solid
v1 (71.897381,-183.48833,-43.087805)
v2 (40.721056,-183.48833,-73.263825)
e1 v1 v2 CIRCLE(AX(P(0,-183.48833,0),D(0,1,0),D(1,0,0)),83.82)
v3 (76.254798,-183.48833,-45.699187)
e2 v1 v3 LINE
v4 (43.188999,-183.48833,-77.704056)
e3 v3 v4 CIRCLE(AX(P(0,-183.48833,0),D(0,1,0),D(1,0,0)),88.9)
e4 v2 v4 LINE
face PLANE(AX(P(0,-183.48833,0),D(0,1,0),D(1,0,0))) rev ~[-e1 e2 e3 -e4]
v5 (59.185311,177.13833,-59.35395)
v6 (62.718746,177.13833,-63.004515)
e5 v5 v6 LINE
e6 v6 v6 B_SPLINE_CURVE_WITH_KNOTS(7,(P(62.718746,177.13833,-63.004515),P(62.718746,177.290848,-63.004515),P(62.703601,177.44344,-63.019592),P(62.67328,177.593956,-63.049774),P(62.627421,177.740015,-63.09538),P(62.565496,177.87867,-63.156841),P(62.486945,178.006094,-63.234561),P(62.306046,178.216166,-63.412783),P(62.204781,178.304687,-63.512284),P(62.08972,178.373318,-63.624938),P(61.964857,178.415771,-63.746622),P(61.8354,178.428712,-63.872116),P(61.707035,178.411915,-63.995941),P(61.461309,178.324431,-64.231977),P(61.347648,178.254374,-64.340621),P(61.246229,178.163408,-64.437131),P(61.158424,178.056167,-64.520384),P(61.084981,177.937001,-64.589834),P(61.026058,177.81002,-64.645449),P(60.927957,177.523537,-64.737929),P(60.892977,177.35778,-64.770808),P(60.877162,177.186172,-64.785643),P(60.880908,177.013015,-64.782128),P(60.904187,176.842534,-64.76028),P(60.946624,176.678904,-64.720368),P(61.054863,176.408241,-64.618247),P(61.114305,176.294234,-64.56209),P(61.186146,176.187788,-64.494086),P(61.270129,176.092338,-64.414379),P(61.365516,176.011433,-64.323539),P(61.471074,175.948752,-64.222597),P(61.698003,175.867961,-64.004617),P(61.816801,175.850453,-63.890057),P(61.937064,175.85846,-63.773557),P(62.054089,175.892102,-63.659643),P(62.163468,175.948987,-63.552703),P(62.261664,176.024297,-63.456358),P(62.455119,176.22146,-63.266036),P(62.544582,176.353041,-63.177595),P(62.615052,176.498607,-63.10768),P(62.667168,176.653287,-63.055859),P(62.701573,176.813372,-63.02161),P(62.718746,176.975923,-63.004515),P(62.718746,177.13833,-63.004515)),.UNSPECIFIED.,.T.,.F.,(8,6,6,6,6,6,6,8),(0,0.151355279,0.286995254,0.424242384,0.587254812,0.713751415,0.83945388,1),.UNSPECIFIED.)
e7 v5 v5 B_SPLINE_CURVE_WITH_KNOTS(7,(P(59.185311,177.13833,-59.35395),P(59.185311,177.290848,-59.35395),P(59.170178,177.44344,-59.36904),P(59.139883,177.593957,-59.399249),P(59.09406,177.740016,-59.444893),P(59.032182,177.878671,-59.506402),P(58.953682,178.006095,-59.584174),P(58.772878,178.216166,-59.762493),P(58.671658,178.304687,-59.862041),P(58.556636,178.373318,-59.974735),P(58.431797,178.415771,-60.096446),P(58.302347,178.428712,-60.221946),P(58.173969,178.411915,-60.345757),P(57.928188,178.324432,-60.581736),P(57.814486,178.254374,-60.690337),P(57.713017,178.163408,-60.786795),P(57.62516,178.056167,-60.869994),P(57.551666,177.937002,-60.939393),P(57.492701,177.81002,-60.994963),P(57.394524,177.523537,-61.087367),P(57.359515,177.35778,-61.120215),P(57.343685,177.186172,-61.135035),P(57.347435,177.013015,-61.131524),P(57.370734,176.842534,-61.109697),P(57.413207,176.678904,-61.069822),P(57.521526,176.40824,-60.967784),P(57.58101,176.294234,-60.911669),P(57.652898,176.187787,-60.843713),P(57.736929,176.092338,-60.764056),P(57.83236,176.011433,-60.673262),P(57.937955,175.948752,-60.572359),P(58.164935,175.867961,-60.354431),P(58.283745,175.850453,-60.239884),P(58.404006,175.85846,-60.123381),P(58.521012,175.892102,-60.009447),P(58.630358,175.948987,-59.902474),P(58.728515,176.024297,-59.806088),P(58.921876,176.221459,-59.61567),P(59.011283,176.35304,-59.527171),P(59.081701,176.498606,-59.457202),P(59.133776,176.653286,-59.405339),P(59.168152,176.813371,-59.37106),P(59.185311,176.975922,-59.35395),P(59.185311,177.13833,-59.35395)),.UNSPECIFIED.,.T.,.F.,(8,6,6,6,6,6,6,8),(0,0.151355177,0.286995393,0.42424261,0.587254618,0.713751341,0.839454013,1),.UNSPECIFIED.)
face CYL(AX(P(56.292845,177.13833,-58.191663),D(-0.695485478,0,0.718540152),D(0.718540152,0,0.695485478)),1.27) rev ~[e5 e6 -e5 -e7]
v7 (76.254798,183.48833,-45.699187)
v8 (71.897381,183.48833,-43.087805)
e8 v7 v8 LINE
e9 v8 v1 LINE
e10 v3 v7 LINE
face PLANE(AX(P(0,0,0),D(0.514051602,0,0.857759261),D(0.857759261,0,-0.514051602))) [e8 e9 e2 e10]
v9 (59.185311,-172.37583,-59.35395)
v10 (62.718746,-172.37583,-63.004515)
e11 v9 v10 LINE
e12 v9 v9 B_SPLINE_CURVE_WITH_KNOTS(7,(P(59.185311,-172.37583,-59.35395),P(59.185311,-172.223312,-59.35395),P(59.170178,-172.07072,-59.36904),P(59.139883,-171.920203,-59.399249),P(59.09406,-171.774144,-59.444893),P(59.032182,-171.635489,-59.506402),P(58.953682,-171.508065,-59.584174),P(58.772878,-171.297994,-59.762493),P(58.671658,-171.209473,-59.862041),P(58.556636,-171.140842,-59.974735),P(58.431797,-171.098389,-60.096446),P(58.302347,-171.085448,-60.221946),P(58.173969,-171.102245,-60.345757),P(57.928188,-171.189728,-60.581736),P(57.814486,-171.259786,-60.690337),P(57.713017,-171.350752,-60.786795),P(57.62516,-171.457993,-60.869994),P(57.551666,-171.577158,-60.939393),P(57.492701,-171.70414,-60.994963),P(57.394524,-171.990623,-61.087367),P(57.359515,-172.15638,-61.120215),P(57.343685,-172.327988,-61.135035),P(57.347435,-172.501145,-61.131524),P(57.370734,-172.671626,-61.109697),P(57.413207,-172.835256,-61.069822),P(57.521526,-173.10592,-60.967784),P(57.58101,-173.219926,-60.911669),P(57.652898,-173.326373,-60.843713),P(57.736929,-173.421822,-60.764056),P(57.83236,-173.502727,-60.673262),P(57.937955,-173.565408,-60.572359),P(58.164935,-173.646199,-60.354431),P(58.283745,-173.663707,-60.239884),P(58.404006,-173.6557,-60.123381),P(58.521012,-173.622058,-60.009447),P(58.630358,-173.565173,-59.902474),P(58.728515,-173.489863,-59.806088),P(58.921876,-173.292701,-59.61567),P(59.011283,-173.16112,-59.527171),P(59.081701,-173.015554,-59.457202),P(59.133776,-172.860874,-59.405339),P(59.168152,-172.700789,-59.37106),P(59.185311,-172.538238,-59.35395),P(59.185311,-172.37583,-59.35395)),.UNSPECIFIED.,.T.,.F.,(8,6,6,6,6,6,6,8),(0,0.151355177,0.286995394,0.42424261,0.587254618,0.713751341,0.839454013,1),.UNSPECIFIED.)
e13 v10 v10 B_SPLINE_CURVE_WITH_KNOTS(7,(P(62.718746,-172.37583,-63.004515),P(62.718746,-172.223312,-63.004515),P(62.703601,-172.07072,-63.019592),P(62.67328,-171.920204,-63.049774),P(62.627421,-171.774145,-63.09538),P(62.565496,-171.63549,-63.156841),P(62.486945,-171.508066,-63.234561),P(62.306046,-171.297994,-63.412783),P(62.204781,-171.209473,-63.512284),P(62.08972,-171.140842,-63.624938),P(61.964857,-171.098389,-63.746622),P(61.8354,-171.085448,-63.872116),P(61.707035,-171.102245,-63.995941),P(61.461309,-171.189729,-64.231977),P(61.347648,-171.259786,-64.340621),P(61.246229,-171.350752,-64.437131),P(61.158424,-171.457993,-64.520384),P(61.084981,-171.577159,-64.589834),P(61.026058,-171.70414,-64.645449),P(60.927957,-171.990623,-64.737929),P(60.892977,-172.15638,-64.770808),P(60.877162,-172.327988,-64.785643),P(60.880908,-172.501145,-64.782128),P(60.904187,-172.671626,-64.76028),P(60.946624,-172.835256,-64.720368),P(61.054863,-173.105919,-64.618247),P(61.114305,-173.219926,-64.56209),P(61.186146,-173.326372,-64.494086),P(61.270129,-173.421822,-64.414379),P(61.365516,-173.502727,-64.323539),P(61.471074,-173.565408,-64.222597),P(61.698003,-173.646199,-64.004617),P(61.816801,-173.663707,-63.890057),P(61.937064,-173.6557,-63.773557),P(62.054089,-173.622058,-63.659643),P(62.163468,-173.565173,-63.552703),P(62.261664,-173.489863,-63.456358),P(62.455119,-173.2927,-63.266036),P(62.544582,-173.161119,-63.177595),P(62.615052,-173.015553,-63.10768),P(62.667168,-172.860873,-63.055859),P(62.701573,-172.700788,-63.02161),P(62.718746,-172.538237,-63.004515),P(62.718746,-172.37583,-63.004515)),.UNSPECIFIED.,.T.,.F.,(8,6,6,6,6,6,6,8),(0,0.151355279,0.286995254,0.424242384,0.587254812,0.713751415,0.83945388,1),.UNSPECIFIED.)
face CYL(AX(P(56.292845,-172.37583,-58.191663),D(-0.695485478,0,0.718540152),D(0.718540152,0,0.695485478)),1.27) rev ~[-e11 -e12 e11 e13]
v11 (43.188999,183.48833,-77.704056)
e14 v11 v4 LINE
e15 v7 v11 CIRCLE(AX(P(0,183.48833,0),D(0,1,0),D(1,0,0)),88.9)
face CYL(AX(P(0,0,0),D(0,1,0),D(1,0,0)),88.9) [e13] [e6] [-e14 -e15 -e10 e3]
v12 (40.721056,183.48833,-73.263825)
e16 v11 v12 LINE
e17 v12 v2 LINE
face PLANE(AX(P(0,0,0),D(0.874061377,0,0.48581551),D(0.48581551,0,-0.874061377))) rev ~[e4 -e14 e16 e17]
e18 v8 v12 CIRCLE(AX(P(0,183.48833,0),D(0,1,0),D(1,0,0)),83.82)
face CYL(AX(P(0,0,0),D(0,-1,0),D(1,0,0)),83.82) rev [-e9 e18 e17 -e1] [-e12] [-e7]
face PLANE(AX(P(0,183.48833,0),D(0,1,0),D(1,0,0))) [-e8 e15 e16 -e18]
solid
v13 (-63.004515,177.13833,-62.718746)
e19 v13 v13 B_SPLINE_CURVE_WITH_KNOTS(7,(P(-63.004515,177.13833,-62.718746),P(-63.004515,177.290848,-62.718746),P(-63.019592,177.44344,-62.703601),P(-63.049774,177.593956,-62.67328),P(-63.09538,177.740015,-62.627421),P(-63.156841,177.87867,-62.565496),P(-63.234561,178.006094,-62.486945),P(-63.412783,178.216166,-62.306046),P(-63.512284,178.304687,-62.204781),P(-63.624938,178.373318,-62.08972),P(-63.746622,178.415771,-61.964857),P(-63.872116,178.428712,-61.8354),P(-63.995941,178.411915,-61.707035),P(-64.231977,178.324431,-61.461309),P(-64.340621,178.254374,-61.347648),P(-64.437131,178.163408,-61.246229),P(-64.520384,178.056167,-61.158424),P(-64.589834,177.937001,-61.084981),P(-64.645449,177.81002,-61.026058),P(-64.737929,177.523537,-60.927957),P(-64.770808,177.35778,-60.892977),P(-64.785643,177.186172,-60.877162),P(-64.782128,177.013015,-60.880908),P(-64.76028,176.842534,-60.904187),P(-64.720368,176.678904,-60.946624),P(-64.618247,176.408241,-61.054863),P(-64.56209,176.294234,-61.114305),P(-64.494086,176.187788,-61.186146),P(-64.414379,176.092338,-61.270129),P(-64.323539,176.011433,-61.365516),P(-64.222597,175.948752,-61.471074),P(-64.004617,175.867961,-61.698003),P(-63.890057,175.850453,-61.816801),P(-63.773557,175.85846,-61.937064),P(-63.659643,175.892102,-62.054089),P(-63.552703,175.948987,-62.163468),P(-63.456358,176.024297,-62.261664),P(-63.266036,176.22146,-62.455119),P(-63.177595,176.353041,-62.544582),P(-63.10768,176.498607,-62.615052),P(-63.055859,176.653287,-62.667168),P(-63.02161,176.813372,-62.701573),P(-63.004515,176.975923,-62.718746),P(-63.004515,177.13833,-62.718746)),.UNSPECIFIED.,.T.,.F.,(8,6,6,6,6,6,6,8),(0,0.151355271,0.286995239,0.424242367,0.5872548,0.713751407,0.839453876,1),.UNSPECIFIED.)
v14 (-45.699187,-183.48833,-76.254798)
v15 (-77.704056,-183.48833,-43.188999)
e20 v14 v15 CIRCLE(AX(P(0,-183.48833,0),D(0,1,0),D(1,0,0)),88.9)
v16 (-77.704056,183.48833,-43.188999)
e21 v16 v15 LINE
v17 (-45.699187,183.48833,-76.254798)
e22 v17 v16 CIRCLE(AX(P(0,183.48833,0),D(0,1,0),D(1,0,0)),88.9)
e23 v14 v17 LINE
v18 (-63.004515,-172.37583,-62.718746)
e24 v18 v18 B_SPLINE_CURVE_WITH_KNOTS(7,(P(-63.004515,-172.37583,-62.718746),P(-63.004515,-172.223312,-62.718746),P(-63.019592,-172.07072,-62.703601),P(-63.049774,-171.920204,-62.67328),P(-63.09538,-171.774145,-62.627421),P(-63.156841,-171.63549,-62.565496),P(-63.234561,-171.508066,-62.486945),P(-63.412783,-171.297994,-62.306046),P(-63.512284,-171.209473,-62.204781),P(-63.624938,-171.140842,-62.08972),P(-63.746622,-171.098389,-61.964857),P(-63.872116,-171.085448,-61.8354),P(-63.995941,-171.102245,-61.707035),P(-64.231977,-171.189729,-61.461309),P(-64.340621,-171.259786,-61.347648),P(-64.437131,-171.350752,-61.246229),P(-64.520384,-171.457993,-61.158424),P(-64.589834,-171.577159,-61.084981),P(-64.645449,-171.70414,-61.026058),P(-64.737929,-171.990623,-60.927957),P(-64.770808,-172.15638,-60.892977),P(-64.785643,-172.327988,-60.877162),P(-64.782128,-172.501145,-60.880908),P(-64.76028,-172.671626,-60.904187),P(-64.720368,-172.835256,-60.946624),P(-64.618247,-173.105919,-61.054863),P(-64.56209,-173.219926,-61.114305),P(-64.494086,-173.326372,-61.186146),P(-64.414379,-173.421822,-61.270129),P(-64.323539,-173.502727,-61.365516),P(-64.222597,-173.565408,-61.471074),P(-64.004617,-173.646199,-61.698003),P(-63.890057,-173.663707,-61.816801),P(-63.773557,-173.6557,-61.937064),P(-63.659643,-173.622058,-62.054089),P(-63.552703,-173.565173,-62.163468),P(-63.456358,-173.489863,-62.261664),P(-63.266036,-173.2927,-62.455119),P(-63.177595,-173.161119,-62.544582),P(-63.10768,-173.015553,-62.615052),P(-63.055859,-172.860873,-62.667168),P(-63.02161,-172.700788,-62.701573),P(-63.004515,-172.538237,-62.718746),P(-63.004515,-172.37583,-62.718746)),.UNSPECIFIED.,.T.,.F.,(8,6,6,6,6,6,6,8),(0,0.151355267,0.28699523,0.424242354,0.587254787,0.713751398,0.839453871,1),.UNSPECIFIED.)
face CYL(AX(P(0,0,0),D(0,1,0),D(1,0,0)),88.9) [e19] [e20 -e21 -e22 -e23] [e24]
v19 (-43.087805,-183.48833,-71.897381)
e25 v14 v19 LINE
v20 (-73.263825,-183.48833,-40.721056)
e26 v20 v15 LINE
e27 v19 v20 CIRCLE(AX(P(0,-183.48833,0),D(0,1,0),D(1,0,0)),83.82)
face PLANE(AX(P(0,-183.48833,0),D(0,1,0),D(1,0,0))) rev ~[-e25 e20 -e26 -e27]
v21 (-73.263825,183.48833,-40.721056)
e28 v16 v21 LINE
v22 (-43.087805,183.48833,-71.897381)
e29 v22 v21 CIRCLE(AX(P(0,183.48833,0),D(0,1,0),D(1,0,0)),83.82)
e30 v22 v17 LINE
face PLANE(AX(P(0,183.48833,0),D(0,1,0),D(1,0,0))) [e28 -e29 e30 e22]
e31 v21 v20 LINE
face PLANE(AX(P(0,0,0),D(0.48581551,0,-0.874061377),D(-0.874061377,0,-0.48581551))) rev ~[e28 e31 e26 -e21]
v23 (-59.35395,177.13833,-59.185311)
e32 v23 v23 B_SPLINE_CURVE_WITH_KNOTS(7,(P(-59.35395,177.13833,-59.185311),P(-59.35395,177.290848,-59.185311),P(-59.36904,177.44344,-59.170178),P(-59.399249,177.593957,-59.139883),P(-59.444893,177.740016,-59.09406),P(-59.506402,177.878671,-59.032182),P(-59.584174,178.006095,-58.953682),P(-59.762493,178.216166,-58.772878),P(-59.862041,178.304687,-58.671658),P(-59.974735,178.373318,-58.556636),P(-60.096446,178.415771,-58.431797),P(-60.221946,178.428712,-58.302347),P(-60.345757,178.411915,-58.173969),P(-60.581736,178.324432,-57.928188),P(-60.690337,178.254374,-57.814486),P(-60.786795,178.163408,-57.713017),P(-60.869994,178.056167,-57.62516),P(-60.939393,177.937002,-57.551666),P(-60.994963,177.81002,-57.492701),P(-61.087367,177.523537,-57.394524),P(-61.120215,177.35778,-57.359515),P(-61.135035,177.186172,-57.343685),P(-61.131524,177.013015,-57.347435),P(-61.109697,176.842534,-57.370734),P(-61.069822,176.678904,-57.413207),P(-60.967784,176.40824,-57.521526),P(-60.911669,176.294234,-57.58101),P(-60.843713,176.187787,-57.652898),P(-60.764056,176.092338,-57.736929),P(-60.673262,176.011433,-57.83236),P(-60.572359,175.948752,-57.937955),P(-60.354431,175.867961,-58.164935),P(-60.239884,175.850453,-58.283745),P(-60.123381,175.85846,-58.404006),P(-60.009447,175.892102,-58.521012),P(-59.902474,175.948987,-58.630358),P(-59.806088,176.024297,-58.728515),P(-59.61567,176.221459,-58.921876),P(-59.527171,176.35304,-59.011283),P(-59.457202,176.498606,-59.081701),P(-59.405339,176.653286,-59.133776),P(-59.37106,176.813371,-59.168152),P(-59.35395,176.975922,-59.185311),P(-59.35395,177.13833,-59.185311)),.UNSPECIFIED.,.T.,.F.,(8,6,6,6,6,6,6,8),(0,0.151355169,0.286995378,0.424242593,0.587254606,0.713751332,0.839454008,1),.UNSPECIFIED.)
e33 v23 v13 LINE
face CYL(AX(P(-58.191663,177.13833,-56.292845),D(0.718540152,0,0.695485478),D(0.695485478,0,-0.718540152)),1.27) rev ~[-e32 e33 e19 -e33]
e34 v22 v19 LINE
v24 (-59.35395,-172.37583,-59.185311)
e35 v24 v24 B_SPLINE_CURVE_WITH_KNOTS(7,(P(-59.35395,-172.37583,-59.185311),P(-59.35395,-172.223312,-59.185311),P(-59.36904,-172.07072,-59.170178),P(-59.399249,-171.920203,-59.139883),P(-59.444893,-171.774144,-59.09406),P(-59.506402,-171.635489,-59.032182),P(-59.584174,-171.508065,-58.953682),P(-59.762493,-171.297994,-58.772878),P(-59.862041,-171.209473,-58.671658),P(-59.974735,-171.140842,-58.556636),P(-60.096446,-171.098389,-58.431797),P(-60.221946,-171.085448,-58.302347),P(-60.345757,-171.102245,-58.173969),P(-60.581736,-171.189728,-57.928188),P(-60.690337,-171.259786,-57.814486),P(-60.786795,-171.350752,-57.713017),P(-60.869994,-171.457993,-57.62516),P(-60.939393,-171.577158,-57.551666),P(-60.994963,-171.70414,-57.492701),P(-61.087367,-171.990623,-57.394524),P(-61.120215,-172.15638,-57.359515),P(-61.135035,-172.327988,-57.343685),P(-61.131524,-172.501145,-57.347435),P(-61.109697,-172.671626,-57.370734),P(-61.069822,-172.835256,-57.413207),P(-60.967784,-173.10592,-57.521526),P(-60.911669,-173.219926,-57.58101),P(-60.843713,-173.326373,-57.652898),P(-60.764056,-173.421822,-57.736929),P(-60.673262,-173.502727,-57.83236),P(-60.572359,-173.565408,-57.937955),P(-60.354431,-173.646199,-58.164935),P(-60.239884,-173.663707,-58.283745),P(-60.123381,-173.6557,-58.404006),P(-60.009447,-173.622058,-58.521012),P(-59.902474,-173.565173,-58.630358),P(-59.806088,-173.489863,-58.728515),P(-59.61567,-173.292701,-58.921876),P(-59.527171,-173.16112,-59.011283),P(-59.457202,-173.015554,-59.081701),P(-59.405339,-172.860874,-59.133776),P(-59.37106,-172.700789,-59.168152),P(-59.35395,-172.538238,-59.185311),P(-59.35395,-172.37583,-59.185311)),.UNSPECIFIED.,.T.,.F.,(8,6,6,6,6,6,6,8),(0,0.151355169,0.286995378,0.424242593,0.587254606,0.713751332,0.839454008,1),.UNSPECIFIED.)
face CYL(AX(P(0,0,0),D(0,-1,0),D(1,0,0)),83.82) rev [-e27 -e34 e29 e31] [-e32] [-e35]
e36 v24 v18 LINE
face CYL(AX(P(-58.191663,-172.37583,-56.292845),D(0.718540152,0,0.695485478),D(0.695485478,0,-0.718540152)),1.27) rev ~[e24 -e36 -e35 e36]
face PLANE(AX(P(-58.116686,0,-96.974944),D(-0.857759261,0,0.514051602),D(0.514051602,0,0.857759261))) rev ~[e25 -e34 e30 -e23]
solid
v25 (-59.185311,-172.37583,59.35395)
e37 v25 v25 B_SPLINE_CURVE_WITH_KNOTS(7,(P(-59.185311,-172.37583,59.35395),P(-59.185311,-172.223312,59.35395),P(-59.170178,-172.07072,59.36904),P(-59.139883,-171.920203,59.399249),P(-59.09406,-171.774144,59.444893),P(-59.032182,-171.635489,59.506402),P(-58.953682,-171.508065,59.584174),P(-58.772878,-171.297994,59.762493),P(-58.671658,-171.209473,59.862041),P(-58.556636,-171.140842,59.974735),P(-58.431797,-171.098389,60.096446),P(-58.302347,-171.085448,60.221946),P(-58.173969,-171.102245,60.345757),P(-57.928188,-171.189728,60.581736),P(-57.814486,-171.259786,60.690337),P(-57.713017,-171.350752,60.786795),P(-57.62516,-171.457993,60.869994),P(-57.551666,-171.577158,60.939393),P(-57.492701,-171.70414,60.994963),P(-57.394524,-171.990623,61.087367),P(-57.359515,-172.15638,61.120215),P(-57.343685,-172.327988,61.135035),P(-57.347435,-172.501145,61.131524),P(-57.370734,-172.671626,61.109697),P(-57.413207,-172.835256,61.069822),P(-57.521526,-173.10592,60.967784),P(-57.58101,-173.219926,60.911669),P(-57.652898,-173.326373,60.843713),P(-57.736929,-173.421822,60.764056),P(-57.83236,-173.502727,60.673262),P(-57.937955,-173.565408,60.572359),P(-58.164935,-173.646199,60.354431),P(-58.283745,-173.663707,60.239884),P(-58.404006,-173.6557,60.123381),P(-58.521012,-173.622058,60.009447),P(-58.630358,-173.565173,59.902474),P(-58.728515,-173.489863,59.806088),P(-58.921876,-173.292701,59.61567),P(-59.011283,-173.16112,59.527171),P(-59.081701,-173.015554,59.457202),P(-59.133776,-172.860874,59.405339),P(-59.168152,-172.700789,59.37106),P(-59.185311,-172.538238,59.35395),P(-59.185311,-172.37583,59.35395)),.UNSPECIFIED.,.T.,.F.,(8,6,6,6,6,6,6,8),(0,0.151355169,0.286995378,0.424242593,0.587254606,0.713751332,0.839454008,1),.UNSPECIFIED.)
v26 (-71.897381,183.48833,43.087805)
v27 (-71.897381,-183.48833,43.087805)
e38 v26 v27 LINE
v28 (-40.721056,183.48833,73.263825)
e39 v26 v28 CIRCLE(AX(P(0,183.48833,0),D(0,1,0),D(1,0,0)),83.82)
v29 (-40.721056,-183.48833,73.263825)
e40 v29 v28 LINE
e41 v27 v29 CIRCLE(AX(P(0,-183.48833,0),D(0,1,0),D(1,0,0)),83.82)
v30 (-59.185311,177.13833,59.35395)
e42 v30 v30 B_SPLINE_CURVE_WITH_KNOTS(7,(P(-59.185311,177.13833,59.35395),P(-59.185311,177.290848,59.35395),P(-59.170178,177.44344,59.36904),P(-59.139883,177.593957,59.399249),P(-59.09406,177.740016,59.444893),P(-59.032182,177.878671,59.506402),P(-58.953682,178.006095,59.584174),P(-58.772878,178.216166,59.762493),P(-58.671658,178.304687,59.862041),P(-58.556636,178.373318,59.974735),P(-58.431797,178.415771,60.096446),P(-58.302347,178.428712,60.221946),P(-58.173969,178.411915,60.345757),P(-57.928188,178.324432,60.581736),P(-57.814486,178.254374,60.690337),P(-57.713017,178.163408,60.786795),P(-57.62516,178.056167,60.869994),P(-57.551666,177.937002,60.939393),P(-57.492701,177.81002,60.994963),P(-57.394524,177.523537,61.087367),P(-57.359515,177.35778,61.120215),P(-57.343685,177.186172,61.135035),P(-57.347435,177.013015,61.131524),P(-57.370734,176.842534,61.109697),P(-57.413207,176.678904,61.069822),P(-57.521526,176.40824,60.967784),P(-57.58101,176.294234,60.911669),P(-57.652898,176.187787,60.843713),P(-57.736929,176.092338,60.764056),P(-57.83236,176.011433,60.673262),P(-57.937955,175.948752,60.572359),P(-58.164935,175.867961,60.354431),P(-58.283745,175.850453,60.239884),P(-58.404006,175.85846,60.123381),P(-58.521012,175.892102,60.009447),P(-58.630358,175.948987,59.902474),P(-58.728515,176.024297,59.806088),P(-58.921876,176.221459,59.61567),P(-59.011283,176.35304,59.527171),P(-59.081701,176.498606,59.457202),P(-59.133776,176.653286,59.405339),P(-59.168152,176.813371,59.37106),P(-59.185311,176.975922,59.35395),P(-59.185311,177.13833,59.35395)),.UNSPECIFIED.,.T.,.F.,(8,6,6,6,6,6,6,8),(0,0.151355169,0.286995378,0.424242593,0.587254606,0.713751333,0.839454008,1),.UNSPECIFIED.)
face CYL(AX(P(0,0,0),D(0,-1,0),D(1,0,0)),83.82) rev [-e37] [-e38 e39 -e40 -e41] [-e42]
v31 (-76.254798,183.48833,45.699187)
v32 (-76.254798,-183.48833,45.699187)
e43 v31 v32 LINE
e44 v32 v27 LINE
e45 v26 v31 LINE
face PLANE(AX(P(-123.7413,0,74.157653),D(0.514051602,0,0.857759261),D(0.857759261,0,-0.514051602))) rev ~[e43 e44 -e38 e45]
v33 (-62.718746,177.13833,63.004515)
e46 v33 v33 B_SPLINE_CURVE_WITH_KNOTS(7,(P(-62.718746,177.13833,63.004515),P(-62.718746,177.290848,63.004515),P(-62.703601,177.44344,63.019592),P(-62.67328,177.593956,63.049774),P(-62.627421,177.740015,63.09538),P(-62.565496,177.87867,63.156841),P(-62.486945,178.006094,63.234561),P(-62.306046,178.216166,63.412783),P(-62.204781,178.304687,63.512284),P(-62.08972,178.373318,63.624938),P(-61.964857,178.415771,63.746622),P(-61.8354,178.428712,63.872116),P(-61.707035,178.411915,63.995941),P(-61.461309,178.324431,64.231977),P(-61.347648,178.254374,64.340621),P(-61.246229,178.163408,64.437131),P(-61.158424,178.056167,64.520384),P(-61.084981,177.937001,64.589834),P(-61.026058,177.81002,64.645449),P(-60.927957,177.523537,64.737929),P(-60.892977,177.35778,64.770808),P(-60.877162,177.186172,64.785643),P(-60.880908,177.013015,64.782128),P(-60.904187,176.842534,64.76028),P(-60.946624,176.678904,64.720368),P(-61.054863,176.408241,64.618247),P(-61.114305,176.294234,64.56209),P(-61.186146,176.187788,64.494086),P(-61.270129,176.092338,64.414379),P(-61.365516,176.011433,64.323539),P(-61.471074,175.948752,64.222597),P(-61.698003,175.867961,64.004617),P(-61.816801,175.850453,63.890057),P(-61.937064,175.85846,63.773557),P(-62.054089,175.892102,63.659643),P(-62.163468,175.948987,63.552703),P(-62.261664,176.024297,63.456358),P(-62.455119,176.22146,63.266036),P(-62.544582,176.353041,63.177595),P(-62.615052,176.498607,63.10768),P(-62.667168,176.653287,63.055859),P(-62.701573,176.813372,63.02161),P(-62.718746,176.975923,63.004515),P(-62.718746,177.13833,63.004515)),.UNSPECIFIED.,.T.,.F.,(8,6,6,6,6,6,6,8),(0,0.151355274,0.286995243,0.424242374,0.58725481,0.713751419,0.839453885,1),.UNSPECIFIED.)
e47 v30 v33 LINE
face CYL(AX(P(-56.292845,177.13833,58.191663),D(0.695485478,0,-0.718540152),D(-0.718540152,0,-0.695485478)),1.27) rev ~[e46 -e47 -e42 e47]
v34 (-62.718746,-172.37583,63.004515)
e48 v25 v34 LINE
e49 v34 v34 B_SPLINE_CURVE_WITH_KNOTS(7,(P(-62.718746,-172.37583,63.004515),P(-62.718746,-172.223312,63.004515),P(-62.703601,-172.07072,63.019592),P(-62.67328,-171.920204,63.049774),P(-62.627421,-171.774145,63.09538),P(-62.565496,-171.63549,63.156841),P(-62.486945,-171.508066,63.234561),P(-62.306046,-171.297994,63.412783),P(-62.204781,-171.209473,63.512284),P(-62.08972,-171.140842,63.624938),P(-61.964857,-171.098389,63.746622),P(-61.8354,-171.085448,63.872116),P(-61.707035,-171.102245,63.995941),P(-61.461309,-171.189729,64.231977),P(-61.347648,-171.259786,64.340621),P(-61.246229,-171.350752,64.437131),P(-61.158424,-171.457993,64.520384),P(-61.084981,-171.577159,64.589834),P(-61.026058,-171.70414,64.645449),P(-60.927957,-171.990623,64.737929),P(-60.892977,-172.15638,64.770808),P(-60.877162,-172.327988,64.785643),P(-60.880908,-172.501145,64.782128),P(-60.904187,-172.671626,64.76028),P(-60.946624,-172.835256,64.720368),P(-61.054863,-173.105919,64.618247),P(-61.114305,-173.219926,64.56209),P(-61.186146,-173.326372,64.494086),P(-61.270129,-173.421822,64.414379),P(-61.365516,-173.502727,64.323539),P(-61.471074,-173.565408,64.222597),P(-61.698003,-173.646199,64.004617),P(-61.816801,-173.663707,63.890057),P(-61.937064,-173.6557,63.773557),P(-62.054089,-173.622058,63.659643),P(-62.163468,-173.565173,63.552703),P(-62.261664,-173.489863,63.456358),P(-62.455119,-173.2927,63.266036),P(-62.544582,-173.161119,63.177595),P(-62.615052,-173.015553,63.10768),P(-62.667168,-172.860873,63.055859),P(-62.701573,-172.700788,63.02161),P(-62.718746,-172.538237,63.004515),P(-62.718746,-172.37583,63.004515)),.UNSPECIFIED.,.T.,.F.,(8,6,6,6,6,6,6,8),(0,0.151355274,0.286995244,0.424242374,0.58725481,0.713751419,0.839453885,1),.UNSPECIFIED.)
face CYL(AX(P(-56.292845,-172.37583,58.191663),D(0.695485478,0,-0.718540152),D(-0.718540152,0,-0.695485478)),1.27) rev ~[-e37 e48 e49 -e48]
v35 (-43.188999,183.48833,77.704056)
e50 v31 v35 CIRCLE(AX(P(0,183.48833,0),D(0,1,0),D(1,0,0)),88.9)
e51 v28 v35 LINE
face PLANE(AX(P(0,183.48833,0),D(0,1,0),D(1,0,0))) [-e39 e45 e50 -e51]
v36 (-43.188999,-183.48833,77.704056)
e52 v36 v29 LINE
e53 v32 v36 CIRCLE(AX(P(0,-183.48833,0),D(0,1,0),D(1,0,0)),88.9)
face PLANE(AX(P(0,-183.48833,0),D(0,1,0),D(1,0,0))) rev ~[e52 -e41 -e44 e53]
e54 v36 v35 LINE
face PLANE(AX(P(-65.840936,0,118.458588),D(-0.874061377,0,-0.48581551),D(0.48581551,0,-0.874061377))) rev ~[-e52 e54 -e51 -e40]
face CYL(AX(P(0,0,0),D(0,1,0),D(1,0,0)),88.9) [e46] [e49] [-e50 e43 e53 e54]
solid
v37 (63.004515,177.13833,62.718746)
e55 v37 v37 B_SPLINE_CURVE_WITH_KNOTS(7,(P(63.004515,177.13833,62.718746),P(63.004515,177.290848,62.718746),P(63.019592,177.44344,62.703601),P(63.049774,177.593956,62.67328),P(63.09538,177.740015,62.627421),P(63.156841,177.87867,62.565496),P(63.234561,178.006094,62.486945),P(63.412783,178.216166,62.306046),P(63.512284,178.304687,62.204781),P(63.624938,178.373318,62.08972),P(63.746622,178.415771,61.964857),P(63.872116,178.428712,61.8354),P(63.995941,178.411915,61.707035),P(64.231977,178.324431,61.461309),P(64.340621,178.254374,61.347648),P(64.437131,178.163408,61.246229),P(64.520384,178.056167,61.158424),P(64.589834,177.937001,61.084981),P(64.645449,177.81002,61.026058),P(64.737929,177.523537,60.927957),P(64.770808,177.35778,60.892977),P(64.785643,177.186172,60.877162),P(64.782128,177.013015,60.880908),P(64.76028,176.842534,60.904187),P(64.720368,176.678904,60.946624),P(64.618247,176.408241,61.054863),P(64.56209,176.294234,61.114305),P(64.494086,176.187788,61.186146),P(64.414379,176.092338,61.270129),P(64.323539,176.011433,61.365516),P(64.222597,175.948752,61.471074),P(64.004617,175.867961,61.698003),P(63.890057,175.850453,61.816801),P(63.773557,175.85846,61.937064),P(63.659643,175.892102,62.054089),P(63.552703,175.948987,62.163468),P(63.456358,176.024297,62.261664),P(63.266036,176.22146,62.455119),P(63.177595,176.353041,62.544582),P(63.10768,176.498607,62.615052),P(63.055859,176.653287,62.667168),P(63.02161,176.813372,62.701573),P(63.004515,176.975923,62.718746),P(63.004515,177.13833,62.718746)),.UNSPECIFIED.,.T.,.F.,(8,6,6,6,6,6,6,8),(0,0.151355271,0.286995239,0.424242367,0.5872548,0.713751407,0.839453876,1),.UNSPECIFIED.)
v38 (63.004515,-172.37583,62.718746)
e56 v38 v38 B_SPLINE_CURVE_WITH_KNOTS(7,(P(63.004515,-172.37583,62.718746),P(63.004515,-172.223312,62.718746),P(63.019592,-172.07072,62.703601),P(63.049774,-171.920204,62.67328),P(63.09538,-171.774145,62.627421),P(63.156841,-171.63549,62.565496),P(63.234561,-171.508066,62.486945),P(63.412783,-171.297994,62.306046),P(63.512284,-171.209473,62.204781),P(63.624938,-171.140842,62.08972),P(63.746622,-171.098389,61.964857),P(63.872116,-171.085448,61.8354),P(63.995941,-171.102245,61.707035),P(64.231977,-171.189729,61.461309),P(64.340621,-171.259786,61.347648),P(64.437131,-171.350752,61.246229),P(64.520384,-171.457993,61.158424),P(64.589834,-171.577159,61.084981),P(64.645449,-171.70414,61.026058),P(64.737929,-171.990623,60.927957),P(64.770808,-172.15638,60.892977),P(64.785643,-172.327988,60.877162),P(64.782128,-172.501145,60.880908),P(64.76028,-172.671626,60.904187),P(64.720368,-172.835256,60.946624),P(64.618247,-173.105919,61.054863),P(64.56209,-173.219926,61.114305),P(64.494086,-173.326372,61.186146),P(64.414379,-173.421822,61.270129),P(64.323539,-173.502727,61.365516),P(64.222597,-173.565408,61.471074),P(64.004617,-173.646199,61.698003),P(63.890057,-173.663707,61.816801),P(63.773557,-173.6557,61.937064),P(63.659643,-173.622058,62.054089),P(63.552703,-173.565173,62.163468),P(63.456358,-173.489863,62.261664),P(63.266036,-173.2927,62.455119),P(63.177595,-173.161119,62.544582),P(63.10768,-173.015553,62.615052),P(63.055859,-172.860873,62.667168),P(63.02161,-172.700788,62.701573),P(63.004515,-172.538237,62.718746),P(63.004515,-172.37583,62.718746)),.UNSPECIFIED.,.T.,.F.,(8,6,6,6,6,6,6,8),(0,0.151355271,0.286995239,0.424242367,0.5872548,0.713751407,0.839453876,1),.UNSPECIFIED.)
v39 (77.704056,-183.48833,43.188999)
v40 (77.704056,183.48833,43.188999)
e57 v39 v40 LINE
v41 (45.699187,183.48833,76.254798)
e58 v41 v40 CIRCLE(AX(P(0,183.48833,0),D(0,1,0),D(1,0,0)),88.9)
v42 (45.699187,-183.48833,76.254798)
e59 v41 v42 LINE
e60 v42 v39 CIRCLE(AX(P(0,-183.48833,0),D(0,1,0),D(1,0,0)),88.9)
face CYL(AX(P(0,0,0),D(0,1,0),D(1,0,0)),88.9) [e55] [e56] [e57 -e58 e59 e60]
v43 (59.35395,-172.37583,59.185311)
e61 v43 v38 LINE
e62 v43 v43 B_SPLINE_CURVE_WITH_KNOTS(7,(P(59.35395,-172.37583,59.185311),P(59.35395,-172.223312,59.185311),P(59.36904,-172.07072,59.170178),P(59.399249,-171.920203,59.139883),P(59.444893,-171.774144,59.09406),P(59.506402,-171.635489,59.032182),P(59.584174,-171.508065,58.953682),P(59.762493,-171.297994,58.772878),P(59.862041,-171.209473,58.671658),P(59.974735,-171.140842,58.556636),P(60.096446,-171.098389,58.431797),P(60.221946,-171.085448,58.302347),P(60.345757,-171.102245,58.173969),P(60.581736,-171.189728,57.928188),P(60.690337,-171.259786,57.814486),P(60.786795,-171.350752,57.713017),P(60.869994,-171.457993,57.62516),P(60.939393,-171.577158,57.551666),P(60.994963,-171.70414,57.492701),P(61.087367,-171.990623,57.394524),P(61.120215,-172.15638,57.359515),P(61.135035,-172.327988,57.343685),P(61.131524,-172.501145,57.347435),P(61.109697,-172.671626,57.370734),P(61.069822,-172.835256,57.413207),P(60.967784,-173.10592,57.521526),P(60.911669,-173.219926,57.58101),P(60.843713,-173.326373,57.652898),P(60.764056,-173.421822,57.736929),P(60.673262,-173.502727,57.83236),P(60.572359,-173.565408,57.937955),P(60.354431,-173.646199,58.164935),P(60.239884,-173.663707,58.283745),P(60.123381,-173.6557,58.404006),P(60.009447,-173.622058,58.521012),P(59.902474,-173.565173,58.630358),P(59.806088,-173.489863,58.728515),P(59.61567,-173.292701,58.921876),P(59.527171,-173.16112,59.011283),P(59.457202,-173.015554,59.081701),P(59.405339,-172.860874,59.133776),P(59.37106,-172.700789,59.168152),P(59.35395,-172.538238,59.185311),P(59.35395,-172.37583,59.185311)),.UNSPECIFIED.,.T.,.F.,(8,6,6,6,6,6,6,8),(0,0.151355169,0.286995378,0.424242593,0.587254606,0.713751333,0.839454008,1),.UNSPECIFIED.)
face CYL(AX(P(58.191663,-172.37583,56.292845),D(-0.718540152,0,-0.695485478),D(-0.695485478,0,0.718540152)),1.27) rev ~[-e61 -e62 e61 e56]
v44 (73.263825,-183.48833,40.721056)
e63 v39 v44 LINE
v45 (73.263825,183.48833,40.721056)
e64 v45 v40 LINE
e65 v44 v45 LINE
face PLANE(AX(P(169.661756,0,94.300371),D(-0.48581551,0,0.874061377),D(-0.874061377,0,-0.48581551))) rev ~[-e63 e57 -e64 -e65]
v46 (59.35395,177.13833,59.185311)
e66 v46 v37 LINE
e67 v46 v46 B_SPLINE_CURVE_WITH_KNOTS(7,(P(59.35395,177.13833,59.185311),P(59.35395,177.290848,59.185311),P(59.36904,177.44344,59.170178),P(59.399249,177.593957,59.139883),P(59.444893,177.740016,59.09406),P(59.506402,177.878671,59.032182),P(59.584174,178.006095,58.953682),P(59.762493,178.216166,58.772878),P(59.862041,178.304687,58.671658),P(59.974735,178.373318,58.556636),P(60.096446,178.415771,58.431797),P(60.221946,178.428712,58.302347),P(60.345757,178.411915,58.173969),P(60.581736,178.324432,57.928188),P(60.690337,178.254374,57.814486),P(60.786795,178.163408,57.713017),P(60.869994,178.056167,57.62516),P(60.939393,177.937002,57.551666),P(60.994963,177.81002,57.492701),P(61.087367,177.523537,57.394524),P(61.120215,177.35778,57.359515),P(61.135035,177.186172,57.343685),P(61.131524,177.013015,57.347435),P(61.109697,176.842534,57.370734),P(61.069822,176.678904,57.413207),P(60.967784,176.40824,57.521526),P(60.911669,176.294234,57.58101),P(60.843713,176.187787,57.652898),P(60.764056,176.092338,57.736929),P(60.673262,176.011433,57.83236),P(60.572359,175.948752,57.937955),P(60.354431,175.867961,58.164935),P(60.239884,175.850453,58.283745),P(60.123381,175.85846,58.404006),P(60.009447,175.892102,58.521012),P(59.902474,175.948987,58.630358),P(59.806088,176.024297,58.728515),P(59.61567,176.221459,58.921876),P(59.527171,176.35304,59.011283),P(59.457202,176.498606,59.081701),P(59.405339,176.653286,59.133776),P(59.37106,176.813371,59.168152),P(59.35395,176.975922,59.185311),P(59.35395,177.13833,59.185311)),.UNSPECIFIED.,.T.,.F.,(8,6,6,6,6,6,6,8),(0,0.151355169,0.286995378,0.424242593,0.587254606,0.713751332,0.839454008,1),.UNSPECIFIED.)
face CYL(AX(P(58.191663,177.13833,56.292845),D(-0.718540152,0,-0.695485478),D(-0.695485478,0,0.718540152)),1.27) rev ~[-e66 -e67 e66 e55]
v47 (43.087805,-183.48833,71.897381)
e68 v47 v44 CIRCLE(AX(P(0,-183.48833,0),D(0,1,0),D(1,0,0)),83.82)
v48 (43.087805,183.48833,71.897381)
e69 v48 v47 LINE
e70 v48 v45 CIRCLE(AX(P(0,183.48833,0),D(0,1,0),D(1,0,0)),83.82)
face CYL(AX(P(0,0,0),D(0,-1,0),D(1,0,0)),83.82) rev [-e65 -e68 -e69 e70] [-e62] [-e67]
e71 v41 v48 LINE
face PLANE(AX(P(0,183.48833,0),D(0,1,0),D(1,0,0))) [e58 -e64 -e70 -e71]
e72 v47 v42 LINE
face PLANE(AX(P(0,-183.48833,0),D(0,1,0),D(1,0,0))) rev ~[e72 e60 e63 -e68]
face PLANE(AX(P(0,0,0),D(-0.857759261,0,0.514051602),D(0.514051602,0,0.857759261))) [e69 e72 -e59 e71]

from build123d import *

# Parameters (mm, degrees)
SKETCH2_R               = 88.9
SKETCH2_R_2             = 83.82
BOSS_EXTRUDE1_DEPTH     = 183.48833
CUT_EXTRUDE1_DEPTH      = 184.48833
CUT_EXTRUDE1_DEPTH_BACK = 184.48833
SKETCH5_R               = 1.27
BOLT_HOLES_DEPTH        = 29.911624556
BOLT_PATTERN_COUNT      = 4


with BuildPart() as part:
    # Sketch2 → Boss-Extrude1 (new body, symmetric)
    with BuildSketch(Plane(origin=(0, 0, 0), x_dir=(1, 0, 0), z_dir=(0, 1, 0))):
        Circle(SKETCH2_R)
        Circle(SKETCH2_R_2, mode=Mode.SUBTRACT)
    extrude(amount=BOSS_EXTRUDE1_DEPTH, both=True)

    # Sketch3 → Cut-Extrude1 (cut, two sides)
    with BuildSketch(Plane(origin=(0, 0, 0), x_dir=(1, 0, 0), z_dir=(0, 1, 0))) as cut_extrude1_sk:
        Polygon((169.661755759, -94.300371224), (0, 0), (169.661755759, 101.677593364), align=None)
        Polygon((0, 0), (53.900027233, 96.974944394), (-58.116685864, 96.974944394), align=None)
        Polygon((-123.741299607, 68.777140945), (-123.741299607, -74.157652604), (0, 0), align=None)
        Polygon((-65.840936026, -118.45858783), (0, 0), (70.991745134, -118.45858783), align=None)
    extrude(amount=CUT_EXTRUDE1_DEPTH, mode=Mode.SUBTRACT)
    extrude(cut_extrude1_sk.sketch, amount=-CUT_EXTRUDE1_DEPTH_BACK, mode=Mode.SUBTRACT)

    # Sketch5 → Bolt holes (cut, through all)
    with BuildSketch(Plane(origin=(-56.309218645, 0, 58.175814955), x_dir=(-0.718540152, 0, -0.695485478), z_dir=(0.695485478, 0, -0.718540152))):
        with Locations((-0.02278764, 177.13833)):
            Circle(SKETCH5_R)
        with Locations((-0.02278764, -172.37583)):
            Circle(SKETCH5_R)
    bolt_holes = extrude(amount=-BOLT_HOLES_DEPTH, mode=Mode.SUBTRACT)

    # Bolt pattern: Bolt holes ×4 about axis
    bolt_pattern_axis = Axis((0, 183.48833, 0), (0, 1, 0))
    for i in range(1, BOLT_PATTERN_COUNT):
        add(bolt_holes.rotate(bolt_pattern_axis, i * 360 / BOLT_PATTERN_COUNT), mode=Mode.SUBTRACT)


solid = part.part
